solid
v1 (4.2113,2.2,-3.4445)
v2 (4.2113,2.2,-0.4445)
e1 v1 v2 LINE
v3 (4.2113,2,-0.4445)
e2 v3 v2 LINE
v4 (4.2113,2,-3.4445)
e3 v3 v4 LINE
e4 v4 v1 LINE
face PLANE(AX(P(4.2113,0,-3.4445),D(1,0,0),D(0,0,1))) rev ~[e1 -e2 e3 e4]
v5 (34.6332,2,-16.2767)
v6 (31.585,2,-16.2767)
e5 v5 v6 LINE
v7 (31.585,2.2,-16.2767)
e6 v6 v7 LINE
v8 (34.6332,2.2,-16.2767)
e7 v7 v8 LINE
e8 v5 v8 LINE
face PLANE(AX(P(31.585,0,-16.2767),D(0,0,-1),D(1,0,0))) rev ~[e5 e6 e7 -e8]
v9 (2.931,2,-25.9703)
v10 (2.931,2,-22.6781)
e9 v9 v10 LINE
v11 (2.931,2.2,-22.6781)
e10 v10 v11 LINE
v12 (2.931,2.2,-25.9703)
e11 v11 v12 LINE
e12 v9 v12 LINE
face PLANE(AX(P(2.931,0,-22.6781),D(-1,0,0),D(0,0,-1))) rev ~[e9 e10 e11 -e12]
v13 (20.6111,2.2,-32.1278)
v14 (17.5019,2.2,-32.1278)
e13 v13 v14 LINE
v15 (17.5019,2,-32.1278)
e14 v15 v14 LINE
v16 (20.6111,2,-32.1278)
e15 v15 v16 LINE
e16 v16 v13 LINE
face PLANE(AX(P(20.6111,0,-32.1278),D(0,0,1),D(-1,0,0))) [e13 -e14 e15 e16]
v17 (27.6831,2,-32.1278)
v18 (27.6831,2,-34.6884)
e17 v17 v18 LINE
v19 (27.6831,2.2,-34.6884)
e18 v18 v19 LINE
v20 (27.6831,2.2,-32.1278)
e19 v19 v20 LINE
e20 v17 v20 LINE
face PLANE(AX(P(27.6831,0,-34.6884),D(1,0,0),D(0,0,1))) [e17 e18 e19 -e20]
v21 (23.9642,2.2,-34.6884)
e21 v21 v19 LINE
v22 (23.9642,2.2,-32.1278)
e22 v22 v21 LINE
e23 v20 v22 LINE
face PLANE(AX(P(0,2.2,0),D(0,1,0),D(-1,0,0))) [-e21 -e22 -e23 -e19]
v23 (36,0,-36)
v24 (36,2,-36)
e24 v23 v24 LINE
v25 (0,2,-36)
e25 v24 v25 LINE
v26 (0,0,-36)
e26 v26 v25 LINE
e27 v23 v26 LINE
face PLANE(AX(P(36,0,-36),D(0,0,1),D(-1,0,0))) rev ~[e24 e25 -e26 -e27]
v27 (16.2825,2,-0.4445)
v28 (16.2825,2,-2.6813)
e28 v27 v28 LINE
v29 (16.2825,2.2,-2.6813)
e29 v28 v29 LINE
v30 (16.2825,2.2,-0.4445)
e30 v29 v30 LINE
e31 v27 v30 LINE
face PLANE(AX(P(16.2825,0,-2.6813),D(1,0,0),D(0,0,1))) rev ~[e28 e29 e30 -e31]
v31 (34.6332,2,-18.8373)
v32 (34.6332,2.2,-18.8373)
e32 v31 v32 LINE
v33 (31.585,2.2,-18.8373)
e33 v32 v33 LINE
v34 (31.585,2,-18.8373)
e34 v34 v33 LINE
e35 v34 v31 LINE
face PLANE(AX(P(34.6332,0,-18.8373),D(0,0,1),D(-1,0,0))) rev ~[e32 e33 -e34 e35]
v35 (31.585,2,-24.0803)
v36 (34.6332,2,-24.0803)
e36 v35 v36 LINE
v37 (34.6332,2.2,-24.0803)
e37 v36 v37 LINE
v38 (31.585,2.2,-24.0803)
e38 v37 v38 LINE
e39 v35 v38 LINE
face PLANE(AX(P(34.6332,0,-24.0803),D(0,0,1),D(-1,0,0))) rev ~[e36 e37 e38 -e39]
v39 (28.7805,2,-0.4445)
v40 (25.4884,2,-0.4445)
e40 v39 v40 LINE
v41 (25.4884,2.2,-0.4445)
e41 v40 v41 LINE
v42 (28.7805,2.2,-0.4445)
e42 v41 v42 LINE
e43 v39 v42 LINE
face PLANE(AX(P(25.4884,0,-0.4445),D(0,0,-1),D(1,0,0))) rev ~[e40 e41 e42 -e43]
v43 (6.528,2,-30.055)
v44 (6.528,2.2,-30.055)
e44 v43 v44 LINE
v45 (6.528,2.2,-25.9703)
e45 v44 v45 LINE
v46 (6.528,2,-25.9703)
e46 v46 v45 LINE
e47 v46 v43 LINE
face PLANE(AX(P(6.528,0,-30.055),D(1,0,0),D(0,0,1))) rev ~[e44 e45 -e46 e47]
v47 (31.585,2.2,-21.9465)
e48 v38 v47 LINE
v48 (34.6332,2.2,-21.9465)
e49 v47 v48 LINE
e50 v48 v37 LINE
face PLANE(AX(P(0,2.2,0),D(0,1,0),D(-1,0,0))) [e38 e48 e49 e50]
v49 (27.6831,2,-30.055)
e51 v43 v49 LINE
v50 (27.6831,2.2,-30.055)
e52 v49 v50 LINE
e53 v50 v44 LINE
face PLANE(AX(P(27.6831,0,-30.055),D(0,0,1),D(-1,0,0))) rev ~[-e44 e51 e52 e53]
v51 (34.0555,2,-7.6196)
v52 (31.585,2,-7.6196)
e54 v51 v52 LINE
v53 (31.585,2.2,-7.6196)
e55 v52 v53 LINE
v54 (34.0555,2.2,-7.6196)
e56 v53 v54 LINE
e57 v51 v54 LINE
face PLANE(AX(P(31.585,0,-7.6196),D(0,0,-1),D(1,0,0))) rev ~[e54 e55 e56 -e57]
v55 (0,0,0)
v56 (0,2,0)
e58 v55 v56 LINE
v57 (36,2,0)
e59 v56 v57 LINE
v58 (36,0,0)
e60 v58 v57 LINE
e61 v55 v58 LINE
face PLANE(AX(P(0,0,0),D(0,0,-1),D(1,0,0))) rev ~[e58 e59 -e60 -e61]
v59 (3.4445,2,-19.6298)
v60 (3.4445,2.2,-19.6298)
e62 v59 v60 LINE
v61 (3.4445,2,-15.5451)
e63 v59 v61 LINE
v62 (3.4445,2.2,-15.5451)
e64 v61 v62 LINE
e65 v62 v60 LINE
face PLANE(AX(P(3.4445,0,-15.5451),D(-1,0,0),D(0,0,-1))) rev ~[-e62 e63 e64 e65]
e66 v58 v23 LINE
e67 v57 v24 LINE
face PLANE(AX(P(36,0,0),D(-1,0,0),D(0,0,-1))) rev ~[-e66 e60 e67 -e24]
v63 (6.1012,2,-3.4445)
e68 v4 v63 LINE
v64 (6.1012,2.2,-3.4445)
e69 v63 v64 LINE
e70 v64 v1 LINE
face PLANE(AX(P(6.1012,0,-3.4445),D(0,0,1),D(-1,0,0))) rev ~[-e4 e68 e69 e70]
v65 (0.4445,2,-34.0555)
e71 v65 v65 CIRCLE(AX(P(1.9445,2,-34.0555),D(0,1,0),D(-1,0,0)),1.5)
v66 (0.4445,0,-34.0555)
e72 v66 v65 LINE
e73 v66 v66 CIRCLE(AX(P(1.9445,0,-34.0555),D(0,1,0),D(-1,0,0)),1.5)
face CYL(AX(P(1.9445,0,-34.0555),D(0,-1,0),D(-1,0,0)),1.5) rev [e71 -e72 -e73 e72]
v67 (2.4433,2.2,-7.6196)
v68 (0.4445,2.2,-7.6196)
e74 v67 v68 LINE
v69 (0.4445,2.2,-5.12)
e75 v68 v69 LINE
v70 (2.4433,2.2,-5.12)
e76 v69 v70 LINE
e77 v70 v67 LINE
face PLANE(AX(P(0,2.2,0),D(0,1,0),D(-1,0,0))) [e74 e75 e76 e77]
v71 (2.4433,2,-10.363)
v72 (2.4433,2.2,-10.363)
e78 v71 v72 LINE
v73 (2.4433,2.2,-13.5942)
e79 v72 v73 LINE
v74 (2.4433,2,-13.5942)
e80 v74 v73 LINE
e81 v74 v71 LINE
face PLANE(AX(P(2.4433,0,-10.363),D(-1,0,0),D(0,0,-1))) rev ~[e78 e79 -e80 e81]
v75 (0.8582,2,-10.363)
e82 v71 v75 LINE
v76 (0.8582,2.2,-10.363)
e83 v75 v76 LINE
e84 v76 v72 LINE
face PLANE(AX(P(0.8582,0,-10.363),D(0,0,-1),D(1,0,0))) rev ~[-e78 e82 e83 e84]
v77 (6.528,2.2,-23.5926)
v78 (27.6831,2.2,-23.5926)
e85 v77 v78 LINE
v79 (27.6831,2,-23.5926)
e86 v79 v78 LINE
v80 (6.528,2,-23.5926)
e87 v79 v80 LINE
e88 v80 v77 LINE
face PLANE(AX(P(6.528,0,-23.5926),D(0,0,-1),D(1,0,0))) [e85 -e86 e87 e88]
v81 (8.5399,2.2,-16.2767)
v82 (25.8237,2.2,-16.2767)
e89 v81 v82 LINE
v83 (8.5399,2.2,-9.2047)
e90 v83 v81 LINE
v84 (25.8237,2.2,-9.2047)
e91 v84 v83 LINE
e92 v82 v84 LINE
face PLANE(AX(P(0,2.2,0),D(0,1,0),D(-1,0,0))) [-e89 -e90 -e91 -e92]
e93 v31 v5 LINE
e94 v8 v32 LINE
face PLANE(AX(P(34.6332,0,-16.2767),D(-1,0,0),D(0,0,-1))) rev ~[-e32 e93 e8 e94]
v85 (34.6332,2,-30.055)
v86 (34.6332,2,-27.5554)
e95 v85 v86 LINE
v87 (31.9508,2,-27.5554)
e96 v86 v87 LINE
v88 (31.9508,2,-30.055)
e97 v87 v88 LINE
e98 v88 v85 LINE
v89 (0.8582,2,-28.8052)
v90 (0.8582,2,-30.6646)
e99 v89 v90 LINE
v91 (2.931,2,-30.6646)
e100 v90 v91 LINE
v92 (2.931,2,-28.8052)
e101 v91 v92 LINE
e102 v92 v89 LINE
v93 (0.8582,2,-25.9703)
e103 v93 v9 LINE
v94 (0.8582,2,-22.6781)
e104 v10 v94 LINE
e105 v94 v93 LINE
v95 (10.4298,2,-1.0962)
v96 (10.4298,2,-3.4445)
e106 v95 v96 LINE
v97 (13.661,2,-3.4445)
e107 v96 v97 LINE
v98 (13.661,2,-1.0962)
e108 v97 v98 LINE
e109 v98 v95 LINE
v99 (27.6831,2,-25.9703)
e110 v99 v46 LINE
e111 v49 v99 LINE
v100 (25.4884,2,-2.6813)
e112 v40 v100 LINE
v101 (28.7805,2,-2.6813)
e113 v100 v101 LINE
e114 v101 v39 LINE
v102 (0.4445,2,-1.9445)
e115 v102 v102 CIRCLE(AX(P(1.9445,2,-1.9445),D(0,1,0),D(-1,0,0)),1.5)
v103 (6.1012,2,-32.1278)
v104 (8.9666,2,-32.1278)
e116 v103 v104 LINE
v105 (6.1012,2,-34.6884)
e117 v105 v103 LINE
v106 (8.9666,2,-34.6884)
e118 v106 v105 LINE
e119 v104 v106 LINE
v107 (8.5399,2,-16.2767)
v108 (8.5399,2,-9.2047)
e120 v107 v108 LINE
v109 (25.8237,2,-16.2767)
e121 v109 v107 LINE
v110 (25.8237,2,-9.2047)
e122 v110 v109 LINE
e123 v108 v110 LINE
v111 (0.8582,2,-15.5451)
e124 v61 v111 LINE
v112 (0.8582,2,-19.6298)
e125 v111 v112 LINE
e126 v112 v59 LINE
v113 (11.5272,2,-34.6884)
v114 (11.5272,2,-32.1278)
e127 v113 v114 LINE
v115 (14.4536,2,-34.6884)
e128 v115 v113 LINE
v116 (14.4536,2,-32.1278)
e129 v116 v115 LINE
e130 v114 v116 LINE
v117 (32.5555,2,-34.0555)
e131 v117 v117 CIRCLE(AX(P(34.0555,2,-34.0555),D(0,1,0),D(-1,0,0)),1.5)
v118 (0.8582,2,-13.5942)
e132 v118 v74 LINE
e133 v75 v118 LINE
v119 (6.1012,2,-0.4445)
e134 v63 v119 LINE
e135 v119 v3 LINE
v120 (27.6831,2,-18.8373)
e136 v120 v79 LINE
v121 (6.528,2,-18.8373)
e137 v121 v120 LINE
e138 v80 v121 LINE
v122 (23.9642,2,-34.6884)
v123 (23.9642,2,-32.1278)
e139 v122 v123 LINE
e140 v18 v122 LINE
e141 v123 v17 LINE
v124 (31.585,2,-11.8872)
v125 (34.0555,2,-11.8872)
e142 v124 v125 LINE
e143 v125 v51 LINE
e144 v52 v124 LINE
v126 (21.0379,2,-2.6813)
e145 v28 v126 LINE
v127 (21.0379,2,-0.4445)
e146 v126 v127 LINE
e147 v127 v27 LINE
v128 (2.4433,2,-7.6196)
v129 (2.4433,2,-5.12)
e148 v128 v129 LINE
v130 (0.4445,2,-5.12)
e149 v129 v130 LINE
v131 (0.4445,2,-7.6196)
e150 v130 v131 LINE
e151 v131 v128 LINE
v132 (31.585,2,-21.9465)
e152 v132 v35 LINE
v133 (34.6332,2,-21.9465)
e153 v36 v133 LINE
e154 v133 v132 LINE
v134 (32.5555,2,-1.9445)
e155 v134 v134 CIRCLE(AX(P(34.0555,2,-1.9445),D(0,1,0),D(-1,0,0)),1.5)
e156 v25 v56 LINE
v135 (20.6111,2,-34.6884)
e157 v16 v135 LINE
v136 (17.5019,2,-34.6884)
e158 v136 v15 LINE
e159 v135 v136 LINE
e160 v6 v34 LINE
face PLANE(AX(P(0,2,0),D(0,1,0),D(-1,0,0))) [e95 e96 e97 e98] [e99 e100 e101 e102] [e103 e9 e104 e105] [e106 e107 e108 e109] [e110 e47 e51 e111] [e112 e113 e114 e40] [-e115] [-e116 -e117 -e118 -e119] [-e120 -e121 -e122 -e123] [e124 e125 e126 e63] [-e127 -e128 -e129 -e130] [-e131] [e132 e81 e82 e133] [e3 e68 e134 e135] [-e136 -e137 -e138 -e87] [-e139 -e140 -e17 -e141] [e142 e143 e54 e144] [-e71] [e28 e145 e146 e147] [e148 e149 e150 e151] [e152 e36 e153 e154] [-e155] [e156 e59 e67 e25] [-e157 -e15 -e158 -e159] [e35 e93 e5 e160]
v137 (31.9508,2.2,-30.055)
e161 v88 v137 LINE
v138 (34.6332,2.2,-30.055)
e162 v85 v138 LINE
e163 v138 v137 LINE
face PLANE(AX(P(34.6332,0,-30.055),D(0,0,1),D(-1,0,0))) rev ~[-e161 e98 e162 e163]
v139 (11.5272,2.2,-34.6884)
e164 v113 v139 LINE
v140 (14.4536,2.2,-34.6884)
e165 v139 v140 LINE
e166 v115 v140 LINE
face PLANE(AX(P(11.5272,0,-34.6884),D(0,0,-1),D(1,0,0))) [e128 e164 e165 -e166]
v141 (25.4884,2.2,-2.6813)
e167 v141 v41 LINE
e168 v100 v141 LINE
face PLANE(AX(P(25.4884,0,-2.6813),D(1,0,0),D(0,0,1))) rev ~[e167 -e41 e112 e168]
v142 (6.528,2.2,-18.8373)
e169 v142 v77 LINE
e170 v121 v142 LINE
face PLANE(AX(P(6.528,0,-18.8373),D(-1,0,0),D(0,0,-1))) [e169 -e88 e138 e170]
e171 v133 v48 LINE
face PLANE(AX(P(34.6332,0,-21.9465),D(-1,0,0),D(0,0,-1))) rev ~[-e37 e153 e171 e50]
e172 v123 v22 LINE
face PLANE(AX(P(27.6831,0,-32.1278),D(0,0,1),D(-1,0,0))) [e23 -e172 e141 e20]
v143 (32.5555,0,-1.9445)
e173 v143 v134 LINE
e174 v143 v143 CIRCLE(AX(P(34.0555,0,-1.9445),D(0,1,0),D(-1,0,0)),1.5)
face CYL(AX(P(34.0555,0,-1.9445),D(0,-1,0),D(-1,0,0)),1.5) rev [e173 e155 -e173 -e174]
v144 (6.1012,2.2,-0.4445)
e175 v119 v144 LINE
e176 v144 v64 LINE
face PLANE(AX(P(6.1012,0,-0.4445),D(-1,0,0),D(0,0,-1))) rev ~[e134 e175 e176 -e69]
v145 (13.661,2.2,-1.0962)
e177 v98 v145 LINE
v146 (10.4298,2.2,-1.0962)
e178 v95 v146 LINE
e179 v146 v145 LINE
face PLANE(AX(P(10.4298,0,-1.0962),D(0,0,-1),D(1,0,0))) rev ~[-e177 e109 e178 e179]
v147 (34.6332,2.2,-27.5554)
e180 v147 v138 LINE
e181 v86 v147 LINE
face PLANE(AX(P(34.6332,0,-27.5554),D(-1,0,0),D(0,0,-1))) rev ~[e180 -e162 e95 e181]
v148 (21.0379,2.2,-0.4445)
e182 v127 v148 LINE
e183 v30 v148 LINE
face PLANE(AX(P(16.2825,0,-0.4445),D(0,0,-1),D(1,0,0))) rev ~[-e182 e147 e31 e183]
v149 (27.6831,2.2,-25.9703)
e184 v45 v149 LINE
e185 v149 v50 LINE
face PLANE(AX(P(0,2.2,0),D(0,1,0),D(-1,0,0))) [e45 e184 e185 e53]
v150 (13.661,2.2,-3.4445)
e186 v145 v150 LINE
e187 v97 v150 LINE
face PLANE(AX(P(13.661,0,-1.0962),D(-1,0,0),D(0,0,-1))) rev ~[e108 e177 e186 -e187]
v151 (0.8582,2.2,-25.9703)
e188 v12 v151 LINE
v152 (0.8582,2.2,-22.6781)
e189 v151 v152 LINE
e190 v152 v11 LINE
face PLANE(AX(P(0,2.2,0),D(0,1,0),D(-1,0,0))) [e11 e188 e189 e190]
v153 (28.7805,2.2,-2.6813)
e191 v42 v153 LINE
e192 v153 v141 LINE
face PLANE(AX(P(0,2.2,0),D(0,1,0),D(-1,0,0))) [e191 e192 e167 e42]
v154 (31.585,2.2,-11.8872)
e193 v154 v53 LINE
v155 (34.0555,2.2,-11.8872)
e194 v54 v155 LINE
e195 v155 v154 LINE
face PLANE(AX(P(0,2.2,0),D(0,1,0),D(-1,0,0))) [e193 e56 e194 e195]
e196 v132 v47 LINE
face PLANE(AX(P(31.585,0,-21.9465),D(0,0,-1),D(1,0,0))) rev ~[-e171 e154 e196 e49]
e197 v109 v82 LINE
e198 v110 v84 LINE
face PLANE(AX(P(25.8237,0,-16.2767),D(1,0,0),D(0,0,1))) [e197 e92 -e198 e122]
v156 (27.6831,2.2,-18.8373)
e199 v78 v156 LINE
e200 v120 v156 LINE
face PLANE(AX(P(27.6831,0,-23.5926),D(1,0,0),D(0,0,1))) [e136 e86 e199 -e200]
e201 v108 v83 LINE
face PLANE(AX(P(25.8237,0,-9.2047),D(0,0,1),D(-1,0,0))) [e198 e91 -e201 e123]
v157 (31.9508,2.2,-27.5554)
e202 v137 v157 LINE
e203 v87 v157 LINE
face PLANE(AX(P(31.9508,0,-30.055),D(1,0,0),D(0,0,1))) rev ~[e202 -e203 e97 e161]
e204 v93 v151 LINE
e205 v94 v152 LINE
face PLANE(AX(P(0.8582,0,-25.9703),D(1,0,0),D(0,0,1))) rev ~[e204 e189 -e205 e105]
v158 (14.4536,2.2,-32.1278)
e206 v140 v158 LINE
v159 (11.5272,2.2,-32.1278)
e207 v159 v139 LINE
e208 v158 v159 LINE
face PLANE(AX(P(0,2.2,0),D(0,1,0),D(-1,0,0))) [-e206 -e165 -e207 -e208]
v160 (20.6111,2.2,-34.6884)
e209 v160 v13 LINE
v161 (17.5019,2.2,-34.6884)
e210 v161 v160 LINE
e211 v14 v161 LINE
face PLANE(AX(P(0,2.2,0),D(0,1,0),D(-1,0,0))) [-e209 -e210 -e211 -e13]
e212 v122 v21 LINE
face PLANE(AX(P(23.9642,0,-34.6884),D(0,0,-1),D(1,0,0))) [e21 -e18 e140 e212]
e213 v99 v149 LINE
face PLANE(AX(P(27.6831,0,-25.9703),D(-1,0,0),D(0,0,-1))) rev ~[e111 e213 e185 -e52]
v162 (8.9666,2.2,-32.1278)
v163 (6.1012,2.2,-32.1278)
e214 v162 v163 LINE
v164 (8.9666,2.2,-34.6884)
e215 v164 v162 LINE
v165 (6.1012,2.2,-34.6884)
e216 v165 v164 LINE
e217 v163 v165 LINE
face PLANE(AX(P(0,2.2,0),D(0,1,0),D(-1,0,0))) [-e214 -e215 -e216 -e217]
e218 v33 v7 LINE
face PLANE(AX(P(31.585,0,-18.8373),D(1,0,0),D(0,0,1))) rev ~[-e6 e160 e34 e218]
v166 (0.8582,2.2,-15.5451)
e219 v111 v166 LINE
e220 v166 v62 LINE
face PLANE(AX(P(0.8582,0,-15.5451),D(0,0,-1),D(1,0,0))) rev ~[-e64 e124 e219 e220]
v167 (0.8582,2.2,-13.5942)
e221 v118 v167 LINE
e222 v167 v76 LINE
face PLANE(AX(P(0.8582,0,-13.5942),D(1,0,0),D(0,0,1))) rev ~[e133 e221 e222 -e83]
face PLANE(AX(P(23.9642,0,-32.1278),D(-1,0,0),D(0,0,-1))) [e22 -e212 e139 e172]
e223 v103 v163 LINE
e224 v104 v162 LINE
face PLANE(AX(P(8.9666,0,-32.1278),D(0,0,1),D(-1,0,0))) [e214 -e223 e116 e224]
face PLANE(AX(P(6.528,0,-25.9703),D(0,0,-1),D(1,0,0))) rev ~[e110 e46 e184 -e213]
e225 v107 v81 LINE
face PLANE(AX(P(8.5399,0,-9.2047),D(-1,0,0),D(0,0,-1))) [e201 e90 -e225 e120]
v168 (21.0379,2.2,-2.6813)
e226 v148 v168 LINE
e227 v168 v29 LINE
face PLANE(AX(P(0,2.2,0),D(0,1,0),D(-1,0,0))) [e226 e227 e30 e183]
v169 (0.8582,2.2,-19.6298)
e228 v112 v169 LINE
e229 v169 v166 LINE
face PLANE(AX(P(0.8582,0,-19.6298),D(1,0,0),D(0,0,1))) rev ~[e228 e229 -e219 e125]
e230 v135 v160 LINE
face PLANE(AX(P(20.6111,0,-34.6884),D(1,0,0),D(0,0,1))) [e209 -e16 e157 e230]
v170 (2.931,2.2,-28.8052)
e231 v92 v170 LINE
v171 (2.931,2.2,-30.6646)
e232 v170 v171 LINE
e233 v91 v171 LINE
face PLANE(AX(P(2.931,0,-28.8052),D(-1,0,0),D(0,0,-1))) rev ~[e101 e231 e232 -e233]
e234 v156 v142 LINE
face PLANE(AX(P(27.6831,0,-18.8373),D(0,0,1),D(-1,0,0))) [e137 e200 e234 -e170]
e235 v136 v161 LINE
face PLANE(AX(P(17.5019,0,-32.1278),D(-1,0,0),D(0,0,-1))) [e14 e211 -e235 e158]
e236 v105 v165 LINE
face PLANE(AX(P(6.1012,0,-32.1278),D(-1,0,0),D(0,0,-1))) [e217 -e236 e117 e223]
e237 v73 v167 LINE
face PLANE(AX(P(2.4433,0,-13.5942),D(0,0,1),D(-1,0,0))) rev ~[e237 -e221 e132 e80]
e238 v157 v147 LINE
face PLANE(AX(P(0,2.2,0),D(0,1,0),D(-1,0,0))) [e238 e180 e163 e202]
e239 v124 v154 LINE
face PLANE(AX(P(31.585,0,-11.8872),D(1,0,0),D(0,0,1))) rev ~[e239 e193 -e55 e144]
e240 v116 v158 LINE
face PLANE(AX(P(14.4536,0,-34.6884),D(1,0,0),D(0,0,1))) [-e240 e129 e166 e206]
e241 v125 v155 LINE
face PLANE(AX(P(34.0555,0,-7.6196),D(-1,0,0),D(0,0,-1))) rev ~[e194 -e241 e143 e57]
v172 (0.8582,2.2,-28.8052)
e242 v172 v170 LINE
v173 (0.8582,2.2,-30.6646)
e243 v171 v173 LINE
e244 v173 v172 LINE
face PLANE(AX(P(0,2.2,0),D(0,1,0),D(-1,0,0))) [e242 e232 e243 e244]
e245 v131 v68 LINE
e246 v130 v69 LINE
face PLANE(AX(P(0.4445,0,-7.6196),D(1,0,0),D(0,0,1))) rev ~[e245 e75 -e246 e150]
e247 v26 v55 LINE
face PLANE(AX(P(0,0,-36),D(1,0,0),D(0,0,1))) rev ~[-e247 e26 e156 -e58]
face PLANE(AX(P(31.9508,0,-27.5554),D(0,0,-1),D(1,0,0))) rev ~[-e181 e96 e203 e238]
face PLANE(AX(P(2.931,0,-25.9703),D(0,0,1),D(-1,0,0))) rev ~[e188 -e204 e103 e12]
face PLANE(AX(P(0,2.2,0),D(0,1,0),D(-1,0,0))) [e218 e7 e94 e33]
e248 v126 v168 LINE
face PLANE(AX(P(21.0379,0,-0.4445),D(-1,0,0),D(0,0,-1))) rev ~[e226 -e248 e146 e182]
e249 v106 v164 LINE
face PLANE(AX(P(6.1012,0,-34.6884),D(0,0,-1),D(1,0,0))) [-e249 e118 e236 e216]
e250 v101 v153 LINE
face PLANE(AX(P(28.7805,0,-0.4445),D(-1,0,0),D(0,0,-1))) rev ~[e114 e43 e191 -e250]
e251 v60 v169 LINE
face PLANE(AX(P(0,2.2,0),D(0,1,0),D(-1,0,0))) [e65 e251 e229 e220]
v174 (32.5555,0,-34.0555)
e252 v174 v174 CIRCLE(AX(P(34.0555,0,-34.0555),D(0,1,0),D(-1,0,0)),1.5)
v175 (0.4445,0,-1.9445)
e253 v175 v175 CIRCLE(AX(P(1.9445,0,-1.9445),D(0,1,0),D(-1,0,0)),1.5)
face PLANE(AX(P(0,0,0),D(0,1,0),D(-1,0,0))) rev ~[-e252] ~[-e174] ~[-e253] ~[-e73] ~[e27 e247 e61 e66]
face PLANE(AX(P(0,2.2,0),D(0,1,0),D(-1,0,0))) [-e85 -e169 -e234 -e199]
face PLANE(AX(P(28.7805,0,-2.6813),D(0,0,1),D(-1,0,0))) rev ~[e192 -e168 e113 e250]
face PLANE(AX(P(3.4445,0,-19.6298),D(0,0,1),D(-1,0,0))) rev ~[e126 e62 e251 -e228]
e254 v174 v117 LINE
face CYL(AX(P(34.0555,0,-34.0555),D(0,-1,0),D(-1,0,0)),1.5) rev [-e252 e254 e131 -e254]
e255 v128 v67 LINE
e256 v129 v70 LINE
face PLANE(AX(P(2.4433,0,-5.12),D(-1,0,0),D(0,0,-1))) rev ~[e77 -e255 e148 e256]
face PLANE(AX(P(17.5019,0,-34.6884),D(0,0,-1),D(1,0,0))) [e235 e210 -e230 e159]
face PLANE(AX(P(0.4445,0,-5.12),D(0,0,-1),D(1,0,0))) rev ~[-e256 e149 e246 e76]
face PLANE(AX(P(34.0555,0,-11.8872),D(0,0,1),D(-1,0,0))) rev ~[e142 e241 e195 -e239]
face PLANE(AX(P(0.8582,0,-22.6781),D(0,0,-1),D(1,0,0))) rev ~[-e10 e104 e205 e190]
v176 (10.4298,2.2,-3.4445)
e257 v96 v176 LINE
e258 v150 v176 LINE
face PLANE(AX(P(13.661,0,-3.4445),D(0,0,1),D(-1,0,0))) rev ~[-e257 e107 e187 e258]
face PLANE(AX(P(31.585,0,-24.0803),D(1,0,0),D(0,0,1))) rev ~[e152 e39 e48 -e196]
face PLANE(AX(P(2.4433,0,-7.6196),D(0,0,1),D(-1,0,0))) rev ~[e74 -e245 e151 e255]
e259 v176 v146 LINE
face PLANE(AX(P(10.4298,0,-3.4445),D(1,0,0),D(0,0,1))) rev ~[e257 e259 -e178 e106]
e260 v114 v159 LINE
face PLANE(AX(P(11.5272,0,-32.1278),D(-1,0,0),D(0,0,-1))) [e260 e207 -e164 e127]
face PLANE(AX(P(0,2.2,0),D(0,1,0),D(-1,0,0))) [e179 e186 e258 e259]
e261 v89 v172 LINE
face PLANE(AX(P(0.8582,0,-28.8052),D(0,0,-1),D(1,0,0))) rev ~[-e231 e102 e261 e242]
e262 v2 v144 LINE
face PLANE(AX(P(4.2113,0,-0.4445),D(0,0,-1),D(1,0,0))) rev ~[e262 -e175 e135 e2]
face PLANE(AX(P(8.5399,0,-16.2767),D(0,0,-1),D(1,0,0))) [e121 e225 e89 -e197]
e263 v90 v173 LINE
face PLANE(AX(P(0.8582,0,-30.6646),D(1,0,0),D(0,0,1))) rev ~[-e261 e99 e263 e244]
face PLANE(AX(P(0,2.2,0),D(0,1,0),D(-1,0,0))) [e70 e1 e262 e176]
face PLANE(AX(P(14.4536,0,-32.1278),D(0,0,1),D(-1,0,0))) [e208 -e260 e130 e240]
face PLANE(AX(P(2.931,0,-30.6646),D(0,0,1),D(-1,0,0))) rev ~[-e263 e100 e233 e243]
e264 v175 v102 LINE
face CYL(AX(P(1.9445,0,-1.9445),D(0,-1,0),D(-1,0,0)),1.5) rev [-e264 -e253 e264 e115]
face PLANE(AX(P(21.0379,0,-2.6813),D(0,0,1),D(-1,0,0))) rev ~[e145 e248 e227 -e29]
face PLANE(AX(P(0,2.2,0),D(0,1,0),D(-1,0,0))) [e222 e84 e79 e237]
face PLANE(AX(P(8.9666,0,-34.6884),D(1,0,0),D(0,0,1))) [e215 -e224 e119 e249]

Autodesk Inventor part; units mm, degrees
ref_plane "YZ Plane" through (0, 0, 0) normal (1, 0, 0) x (0, 1, 0)
ref_plane "XZ Plane" through (0, 0, 0) normal (0, 1, 0) x (-1, 0, 0)
ref_plane "XY Plane" through (0, 0, 0) normal (0, 0, 1) x (1, 0, 0)
sketch "Sketch1" plane through (0, 0, 0) normal (0, 1, 0) x (-1, 0, 0)
  line L0 (0, 0) -> (-36, 0)
  line L1 (-36, 0) -> (-36, -36)
  line L2 (-36, -36) -> (0, -36)
  line L3 (0, -36) -> (0, 0)
  circle A0 centre (-1.9445, -34.0555) radius 1.5
  circle A1 centre (-34.0555, -34.0555) radius 1.5
  circle A2 centre (-1.9445, -1.9445) radius 1.5
  circle A3 centre (-34.0555, -1.9445) radius 1.5
  line L4 (-6.1012, -34.6884) -> (-8.9666, -34.6884)
  line L5 (-8.9666, -34.6884) -> (-8.9666, -32.1278)
  line L6 (-8.9666, -32.1278) -> (-6.1012, -32.1278)
  line L7 (-6.1012, -32.1278) -> (-6.1012, -34.6884)
  line L8 (-11.5272, -34.6884) -> (-14.4536, -34.6884)
  line L9 (-14.4536, -34.6884) -> (-14.4536, -32.1278)
  line L10 (-14.4536, -32.1278) -> (-11.5272, -32.1278)
  line L11 (-11.5272, -32.1278) -> (-11.5272, -34.6884)
  line L12 (-17.5019, -34.6884) -> (-20.6111, -34.6884)
  line L13 (-20.6111, -34.6884) -> (-20.6111, -32.1278)
  line L14 (-20.6111, -32.1278) -> (-17.5019, -32.1278)
  line L15 (-17.5019, -32.1278) -> (-17.5019, -34.6884)
  line L16 (-23.9642, -34.6884) -> (-27.6831, -34.6884)
  line L17 (-27.6831, -34.6884) -> (-27.6831, -32.1278)
  line L18 (-27.6831, -32.1278) -> (-23.9642, -32.1278)
  line L19 (-23.9642, -32.1278) -> (-23.9642, -34.6884)
  line L20 (-34.6332, -30.055) -> (-31.9508, -30.055)
  line L21 (-31.9508, -30.055) -> (-31.9508, -27.5554)
  line L22 (-31.9508, -27.5554) -> (-34.6332, -27.5554)
  line L23 (-34.6332, -27.5554) -> (-34.6332, -30.055)
  line L24 (-34.6332, -24.0803) -> (-31.585, -24.0803)
  line L25 (-31.585, -24.0803) -> (-31.585, -21.9465)
  line L26 (-31.585, -21.9465) -> (-34.6332, -21.9465)
  line L27 (-34.6332, -21.9465) -> (-34.6332, -24.0803)
  line L28 (-34.6332, -18.8373) -> (-31.585, -18.8373)
  line L29 (-31.585, -18.8373) -> (-31.585, -16.2767)
  line L30 (-31.585, -16.2767) -> (-34.6332, -16.2767)
  line L31 (-34.6332, -16.2767) -> (-34.6332, -18.8373)
  line L32 (-34.0555, -11.8872) -> (-31.585, -11.8872)
  line L33 (-31.585, -11.8872) -> (-31.585, -7.6196)
  line L34 (-31.585, -7.6196) -> (-34.0555, -7.6196)
  line L35 (-34.0555, -7.6196) -> (-34.0555, -11.8872)
  line L36 (-28.7805, -2.6813) -> (-25.4884, -2.6813)
  line L37 (-25.4884, -2.6813) -> (-25.4884, -0.4445)
  line L38 (-25.4884, -0.4445) -> (-28.7805, -0.4445)
  line L39 (-28.7805, -0.4445) -> (-28.7805, -2.6813)
  line L40 (-21.0379, -2.6813) -> (-16.2825, -2.6813)
  line L41 (-16.2825, -2.6813) -> (-16.2825, -0.4445)
  line L42 (-16.2825, -0.4445) -> (-21.0379, -0.4445)
  line L43 (-21.0379, -0.4445) -> (-21.0379, -2.6813)
  line L44 (-13.661, -3.4445) -> (-10.4298, -3.4445)
  line L45 (-10.4298, -3.4445) -> (-10.4298, -1.0962)
  line L46 (-10.4298, -1.0962) -> (-13.661, -1.0962)
  line L47 (-13.661, -1.0962) -> (-13.661, -3.4445)
  line L48 (-6.1012, -3.4445) -> (-4.2113, -3.4445)
  line L49 (-4.2113, -3.4445) -> (-4.2113, -0.4445)
  line L50 (-4.2113, -0.4445) -> (-6.1012, -0.4445)
  line L51 (-6.1012, -0.4445) -> (-6.1012, -3.4445)
  line L52 (-2.4433, -7.6196) -> (-0.4445, -7.6196)
  line L53 (-0.4445, -7.6196) -> (-0.4445, -5.12)
  line L54 (-0.4445, -5.12) -> (-2.4433, -5.12)
  line L55 (-2.4433, -5.12) -> (-2.4433, -7.6196)
  line L56 (-2.4433, -13.5942) -> (-0.8582, -13.5942)
  line L57 (-0.8582, -13.5942) -> (-0.8582, -10.363)
  line L58 (-0.8582, -10.363) -> (-2.4433, -10.363)
  line L59 (-2.4433, -10.363) -> (-2.4433, -13.5942)
  line L60 (-3.4445, -19.6298) -> (-0.8582, -19.6298)
  line L61 (-0.8582, -19.6298) -> (-0.8582, -15.5451)
  line L62 (-0.8582, -15.5451) -> (-3.4445, -15.5451)
  line L63 (-3.4445, -15.5451) -> (-3.4445, -19.6298)
  line L64 (-2.931, -25.9703) -> (-0.8582, -25.9703)
  line L65 (-0.8582, -25.9703) -> (-0.8582, -22.6781)
  line L66 (-0.8582, -22.6781) -> (-2.931, -22.6781)
  line L67 (-2.931, -22.6781) -> (-2.931, -25.9703)
  line L68 (-2.931, -30.6646) -> (-0.8582, -30.6646)
  line L69 (-0.8582, -30.6646) -> (-0.8582, -28.8052)
  line L70 (-0.8582, -28.8052) -> (-2.931, -28.8052)
  line L71 (-2.931, -28.8052) -> (-2.931, -30.6646)
  line L72 (-27.6831, -30.055) -> (-6.528, -30.055)
  line L73 (-6.528, -30.055) -> (-6.528, -25.9703)
  line L74 (-6.528, -25.9703) -> (-27.6831, -25.9703)
  line L75 (-27.6831, -25.9703) -> (-27.6831, -30.055)
  line L76 (-6.528, -23.5926) -> (-27.6831, -23.5926)
  line L77 (-27.6831, -23.5926) -> (-27.6831, -18.8373)
  line L78 (-27.6831, -18.8373) -> (-6.528, -18.8373)
  line L79 (-6.528, -18.8373) -> (-6.528, -23.5926)
  line L80 (-25.8237, -9.2047) -> (-8.5399, -9.2047)
  line L81 (-8.5399, -9.2047) -> (-8.5399, -16.2767)
  line L82 (-8.5399, -16.2767) -> (-25.8237, -16.2767)
  line L83 (-25.8237, -16.2767) -> (-25.8237, -9.2047)
  dimension "d2" = 3
  dimension "d3" = 3
extrude "Extrusion1" add sketch "Sketch1" along normal blind 2 contours L3 L2 L1 L0 | L4 L5 L6 L7 | L8 L9 L10 L11 | L12 L13 L14 L15 | L16 L17 L18 L19 | L23 L22 L21 L20 | L27 L26 L25 L24 | L31 L30 L29 L28 | L35 L34 L33 L32 | L39 L38 L37 L36 | L43 L42 L41 L40 | L47 L46 L45 L44 | L51 L50 L49 L48 | L55 L54 L53 L52 | L59 L58 L57 L56 | L63 L62 L61 L60 | L67 L66 L65 L64 | L71 L70 L69 L68 | L75 L74 L73 L72 | L76 L77 L78 L79 | L80 L81 L82 L83
extrude "Extrusion2" add sketch "Sketch1" along normal blind 2.2 contours L4 L5 L6 L7 | L8 L9 L10 L11 | L12 L13 L14 L15 | L16 L17 L18 L19 | L23 L22 L21 L20 | L27 L26 L25 L24 | L31 L30 L29 L28 | L35 L34 L33 L32 | L39 L38 L37 L36 | L43 L42 L41 L40 | L47 L46 L45 L44 | L51 L50 L49 L48 | L55 L54 L53 L52 | L59 L58 L57 L56 | L63 L62 L61 L60 | L67 L66 L65 L64 | L71 L70 L69 L68 | L75 L74 L73 L72 | L76 L77 L78 L79 | L80 L81 L82 L83
properties part number "PDB 36x36"
